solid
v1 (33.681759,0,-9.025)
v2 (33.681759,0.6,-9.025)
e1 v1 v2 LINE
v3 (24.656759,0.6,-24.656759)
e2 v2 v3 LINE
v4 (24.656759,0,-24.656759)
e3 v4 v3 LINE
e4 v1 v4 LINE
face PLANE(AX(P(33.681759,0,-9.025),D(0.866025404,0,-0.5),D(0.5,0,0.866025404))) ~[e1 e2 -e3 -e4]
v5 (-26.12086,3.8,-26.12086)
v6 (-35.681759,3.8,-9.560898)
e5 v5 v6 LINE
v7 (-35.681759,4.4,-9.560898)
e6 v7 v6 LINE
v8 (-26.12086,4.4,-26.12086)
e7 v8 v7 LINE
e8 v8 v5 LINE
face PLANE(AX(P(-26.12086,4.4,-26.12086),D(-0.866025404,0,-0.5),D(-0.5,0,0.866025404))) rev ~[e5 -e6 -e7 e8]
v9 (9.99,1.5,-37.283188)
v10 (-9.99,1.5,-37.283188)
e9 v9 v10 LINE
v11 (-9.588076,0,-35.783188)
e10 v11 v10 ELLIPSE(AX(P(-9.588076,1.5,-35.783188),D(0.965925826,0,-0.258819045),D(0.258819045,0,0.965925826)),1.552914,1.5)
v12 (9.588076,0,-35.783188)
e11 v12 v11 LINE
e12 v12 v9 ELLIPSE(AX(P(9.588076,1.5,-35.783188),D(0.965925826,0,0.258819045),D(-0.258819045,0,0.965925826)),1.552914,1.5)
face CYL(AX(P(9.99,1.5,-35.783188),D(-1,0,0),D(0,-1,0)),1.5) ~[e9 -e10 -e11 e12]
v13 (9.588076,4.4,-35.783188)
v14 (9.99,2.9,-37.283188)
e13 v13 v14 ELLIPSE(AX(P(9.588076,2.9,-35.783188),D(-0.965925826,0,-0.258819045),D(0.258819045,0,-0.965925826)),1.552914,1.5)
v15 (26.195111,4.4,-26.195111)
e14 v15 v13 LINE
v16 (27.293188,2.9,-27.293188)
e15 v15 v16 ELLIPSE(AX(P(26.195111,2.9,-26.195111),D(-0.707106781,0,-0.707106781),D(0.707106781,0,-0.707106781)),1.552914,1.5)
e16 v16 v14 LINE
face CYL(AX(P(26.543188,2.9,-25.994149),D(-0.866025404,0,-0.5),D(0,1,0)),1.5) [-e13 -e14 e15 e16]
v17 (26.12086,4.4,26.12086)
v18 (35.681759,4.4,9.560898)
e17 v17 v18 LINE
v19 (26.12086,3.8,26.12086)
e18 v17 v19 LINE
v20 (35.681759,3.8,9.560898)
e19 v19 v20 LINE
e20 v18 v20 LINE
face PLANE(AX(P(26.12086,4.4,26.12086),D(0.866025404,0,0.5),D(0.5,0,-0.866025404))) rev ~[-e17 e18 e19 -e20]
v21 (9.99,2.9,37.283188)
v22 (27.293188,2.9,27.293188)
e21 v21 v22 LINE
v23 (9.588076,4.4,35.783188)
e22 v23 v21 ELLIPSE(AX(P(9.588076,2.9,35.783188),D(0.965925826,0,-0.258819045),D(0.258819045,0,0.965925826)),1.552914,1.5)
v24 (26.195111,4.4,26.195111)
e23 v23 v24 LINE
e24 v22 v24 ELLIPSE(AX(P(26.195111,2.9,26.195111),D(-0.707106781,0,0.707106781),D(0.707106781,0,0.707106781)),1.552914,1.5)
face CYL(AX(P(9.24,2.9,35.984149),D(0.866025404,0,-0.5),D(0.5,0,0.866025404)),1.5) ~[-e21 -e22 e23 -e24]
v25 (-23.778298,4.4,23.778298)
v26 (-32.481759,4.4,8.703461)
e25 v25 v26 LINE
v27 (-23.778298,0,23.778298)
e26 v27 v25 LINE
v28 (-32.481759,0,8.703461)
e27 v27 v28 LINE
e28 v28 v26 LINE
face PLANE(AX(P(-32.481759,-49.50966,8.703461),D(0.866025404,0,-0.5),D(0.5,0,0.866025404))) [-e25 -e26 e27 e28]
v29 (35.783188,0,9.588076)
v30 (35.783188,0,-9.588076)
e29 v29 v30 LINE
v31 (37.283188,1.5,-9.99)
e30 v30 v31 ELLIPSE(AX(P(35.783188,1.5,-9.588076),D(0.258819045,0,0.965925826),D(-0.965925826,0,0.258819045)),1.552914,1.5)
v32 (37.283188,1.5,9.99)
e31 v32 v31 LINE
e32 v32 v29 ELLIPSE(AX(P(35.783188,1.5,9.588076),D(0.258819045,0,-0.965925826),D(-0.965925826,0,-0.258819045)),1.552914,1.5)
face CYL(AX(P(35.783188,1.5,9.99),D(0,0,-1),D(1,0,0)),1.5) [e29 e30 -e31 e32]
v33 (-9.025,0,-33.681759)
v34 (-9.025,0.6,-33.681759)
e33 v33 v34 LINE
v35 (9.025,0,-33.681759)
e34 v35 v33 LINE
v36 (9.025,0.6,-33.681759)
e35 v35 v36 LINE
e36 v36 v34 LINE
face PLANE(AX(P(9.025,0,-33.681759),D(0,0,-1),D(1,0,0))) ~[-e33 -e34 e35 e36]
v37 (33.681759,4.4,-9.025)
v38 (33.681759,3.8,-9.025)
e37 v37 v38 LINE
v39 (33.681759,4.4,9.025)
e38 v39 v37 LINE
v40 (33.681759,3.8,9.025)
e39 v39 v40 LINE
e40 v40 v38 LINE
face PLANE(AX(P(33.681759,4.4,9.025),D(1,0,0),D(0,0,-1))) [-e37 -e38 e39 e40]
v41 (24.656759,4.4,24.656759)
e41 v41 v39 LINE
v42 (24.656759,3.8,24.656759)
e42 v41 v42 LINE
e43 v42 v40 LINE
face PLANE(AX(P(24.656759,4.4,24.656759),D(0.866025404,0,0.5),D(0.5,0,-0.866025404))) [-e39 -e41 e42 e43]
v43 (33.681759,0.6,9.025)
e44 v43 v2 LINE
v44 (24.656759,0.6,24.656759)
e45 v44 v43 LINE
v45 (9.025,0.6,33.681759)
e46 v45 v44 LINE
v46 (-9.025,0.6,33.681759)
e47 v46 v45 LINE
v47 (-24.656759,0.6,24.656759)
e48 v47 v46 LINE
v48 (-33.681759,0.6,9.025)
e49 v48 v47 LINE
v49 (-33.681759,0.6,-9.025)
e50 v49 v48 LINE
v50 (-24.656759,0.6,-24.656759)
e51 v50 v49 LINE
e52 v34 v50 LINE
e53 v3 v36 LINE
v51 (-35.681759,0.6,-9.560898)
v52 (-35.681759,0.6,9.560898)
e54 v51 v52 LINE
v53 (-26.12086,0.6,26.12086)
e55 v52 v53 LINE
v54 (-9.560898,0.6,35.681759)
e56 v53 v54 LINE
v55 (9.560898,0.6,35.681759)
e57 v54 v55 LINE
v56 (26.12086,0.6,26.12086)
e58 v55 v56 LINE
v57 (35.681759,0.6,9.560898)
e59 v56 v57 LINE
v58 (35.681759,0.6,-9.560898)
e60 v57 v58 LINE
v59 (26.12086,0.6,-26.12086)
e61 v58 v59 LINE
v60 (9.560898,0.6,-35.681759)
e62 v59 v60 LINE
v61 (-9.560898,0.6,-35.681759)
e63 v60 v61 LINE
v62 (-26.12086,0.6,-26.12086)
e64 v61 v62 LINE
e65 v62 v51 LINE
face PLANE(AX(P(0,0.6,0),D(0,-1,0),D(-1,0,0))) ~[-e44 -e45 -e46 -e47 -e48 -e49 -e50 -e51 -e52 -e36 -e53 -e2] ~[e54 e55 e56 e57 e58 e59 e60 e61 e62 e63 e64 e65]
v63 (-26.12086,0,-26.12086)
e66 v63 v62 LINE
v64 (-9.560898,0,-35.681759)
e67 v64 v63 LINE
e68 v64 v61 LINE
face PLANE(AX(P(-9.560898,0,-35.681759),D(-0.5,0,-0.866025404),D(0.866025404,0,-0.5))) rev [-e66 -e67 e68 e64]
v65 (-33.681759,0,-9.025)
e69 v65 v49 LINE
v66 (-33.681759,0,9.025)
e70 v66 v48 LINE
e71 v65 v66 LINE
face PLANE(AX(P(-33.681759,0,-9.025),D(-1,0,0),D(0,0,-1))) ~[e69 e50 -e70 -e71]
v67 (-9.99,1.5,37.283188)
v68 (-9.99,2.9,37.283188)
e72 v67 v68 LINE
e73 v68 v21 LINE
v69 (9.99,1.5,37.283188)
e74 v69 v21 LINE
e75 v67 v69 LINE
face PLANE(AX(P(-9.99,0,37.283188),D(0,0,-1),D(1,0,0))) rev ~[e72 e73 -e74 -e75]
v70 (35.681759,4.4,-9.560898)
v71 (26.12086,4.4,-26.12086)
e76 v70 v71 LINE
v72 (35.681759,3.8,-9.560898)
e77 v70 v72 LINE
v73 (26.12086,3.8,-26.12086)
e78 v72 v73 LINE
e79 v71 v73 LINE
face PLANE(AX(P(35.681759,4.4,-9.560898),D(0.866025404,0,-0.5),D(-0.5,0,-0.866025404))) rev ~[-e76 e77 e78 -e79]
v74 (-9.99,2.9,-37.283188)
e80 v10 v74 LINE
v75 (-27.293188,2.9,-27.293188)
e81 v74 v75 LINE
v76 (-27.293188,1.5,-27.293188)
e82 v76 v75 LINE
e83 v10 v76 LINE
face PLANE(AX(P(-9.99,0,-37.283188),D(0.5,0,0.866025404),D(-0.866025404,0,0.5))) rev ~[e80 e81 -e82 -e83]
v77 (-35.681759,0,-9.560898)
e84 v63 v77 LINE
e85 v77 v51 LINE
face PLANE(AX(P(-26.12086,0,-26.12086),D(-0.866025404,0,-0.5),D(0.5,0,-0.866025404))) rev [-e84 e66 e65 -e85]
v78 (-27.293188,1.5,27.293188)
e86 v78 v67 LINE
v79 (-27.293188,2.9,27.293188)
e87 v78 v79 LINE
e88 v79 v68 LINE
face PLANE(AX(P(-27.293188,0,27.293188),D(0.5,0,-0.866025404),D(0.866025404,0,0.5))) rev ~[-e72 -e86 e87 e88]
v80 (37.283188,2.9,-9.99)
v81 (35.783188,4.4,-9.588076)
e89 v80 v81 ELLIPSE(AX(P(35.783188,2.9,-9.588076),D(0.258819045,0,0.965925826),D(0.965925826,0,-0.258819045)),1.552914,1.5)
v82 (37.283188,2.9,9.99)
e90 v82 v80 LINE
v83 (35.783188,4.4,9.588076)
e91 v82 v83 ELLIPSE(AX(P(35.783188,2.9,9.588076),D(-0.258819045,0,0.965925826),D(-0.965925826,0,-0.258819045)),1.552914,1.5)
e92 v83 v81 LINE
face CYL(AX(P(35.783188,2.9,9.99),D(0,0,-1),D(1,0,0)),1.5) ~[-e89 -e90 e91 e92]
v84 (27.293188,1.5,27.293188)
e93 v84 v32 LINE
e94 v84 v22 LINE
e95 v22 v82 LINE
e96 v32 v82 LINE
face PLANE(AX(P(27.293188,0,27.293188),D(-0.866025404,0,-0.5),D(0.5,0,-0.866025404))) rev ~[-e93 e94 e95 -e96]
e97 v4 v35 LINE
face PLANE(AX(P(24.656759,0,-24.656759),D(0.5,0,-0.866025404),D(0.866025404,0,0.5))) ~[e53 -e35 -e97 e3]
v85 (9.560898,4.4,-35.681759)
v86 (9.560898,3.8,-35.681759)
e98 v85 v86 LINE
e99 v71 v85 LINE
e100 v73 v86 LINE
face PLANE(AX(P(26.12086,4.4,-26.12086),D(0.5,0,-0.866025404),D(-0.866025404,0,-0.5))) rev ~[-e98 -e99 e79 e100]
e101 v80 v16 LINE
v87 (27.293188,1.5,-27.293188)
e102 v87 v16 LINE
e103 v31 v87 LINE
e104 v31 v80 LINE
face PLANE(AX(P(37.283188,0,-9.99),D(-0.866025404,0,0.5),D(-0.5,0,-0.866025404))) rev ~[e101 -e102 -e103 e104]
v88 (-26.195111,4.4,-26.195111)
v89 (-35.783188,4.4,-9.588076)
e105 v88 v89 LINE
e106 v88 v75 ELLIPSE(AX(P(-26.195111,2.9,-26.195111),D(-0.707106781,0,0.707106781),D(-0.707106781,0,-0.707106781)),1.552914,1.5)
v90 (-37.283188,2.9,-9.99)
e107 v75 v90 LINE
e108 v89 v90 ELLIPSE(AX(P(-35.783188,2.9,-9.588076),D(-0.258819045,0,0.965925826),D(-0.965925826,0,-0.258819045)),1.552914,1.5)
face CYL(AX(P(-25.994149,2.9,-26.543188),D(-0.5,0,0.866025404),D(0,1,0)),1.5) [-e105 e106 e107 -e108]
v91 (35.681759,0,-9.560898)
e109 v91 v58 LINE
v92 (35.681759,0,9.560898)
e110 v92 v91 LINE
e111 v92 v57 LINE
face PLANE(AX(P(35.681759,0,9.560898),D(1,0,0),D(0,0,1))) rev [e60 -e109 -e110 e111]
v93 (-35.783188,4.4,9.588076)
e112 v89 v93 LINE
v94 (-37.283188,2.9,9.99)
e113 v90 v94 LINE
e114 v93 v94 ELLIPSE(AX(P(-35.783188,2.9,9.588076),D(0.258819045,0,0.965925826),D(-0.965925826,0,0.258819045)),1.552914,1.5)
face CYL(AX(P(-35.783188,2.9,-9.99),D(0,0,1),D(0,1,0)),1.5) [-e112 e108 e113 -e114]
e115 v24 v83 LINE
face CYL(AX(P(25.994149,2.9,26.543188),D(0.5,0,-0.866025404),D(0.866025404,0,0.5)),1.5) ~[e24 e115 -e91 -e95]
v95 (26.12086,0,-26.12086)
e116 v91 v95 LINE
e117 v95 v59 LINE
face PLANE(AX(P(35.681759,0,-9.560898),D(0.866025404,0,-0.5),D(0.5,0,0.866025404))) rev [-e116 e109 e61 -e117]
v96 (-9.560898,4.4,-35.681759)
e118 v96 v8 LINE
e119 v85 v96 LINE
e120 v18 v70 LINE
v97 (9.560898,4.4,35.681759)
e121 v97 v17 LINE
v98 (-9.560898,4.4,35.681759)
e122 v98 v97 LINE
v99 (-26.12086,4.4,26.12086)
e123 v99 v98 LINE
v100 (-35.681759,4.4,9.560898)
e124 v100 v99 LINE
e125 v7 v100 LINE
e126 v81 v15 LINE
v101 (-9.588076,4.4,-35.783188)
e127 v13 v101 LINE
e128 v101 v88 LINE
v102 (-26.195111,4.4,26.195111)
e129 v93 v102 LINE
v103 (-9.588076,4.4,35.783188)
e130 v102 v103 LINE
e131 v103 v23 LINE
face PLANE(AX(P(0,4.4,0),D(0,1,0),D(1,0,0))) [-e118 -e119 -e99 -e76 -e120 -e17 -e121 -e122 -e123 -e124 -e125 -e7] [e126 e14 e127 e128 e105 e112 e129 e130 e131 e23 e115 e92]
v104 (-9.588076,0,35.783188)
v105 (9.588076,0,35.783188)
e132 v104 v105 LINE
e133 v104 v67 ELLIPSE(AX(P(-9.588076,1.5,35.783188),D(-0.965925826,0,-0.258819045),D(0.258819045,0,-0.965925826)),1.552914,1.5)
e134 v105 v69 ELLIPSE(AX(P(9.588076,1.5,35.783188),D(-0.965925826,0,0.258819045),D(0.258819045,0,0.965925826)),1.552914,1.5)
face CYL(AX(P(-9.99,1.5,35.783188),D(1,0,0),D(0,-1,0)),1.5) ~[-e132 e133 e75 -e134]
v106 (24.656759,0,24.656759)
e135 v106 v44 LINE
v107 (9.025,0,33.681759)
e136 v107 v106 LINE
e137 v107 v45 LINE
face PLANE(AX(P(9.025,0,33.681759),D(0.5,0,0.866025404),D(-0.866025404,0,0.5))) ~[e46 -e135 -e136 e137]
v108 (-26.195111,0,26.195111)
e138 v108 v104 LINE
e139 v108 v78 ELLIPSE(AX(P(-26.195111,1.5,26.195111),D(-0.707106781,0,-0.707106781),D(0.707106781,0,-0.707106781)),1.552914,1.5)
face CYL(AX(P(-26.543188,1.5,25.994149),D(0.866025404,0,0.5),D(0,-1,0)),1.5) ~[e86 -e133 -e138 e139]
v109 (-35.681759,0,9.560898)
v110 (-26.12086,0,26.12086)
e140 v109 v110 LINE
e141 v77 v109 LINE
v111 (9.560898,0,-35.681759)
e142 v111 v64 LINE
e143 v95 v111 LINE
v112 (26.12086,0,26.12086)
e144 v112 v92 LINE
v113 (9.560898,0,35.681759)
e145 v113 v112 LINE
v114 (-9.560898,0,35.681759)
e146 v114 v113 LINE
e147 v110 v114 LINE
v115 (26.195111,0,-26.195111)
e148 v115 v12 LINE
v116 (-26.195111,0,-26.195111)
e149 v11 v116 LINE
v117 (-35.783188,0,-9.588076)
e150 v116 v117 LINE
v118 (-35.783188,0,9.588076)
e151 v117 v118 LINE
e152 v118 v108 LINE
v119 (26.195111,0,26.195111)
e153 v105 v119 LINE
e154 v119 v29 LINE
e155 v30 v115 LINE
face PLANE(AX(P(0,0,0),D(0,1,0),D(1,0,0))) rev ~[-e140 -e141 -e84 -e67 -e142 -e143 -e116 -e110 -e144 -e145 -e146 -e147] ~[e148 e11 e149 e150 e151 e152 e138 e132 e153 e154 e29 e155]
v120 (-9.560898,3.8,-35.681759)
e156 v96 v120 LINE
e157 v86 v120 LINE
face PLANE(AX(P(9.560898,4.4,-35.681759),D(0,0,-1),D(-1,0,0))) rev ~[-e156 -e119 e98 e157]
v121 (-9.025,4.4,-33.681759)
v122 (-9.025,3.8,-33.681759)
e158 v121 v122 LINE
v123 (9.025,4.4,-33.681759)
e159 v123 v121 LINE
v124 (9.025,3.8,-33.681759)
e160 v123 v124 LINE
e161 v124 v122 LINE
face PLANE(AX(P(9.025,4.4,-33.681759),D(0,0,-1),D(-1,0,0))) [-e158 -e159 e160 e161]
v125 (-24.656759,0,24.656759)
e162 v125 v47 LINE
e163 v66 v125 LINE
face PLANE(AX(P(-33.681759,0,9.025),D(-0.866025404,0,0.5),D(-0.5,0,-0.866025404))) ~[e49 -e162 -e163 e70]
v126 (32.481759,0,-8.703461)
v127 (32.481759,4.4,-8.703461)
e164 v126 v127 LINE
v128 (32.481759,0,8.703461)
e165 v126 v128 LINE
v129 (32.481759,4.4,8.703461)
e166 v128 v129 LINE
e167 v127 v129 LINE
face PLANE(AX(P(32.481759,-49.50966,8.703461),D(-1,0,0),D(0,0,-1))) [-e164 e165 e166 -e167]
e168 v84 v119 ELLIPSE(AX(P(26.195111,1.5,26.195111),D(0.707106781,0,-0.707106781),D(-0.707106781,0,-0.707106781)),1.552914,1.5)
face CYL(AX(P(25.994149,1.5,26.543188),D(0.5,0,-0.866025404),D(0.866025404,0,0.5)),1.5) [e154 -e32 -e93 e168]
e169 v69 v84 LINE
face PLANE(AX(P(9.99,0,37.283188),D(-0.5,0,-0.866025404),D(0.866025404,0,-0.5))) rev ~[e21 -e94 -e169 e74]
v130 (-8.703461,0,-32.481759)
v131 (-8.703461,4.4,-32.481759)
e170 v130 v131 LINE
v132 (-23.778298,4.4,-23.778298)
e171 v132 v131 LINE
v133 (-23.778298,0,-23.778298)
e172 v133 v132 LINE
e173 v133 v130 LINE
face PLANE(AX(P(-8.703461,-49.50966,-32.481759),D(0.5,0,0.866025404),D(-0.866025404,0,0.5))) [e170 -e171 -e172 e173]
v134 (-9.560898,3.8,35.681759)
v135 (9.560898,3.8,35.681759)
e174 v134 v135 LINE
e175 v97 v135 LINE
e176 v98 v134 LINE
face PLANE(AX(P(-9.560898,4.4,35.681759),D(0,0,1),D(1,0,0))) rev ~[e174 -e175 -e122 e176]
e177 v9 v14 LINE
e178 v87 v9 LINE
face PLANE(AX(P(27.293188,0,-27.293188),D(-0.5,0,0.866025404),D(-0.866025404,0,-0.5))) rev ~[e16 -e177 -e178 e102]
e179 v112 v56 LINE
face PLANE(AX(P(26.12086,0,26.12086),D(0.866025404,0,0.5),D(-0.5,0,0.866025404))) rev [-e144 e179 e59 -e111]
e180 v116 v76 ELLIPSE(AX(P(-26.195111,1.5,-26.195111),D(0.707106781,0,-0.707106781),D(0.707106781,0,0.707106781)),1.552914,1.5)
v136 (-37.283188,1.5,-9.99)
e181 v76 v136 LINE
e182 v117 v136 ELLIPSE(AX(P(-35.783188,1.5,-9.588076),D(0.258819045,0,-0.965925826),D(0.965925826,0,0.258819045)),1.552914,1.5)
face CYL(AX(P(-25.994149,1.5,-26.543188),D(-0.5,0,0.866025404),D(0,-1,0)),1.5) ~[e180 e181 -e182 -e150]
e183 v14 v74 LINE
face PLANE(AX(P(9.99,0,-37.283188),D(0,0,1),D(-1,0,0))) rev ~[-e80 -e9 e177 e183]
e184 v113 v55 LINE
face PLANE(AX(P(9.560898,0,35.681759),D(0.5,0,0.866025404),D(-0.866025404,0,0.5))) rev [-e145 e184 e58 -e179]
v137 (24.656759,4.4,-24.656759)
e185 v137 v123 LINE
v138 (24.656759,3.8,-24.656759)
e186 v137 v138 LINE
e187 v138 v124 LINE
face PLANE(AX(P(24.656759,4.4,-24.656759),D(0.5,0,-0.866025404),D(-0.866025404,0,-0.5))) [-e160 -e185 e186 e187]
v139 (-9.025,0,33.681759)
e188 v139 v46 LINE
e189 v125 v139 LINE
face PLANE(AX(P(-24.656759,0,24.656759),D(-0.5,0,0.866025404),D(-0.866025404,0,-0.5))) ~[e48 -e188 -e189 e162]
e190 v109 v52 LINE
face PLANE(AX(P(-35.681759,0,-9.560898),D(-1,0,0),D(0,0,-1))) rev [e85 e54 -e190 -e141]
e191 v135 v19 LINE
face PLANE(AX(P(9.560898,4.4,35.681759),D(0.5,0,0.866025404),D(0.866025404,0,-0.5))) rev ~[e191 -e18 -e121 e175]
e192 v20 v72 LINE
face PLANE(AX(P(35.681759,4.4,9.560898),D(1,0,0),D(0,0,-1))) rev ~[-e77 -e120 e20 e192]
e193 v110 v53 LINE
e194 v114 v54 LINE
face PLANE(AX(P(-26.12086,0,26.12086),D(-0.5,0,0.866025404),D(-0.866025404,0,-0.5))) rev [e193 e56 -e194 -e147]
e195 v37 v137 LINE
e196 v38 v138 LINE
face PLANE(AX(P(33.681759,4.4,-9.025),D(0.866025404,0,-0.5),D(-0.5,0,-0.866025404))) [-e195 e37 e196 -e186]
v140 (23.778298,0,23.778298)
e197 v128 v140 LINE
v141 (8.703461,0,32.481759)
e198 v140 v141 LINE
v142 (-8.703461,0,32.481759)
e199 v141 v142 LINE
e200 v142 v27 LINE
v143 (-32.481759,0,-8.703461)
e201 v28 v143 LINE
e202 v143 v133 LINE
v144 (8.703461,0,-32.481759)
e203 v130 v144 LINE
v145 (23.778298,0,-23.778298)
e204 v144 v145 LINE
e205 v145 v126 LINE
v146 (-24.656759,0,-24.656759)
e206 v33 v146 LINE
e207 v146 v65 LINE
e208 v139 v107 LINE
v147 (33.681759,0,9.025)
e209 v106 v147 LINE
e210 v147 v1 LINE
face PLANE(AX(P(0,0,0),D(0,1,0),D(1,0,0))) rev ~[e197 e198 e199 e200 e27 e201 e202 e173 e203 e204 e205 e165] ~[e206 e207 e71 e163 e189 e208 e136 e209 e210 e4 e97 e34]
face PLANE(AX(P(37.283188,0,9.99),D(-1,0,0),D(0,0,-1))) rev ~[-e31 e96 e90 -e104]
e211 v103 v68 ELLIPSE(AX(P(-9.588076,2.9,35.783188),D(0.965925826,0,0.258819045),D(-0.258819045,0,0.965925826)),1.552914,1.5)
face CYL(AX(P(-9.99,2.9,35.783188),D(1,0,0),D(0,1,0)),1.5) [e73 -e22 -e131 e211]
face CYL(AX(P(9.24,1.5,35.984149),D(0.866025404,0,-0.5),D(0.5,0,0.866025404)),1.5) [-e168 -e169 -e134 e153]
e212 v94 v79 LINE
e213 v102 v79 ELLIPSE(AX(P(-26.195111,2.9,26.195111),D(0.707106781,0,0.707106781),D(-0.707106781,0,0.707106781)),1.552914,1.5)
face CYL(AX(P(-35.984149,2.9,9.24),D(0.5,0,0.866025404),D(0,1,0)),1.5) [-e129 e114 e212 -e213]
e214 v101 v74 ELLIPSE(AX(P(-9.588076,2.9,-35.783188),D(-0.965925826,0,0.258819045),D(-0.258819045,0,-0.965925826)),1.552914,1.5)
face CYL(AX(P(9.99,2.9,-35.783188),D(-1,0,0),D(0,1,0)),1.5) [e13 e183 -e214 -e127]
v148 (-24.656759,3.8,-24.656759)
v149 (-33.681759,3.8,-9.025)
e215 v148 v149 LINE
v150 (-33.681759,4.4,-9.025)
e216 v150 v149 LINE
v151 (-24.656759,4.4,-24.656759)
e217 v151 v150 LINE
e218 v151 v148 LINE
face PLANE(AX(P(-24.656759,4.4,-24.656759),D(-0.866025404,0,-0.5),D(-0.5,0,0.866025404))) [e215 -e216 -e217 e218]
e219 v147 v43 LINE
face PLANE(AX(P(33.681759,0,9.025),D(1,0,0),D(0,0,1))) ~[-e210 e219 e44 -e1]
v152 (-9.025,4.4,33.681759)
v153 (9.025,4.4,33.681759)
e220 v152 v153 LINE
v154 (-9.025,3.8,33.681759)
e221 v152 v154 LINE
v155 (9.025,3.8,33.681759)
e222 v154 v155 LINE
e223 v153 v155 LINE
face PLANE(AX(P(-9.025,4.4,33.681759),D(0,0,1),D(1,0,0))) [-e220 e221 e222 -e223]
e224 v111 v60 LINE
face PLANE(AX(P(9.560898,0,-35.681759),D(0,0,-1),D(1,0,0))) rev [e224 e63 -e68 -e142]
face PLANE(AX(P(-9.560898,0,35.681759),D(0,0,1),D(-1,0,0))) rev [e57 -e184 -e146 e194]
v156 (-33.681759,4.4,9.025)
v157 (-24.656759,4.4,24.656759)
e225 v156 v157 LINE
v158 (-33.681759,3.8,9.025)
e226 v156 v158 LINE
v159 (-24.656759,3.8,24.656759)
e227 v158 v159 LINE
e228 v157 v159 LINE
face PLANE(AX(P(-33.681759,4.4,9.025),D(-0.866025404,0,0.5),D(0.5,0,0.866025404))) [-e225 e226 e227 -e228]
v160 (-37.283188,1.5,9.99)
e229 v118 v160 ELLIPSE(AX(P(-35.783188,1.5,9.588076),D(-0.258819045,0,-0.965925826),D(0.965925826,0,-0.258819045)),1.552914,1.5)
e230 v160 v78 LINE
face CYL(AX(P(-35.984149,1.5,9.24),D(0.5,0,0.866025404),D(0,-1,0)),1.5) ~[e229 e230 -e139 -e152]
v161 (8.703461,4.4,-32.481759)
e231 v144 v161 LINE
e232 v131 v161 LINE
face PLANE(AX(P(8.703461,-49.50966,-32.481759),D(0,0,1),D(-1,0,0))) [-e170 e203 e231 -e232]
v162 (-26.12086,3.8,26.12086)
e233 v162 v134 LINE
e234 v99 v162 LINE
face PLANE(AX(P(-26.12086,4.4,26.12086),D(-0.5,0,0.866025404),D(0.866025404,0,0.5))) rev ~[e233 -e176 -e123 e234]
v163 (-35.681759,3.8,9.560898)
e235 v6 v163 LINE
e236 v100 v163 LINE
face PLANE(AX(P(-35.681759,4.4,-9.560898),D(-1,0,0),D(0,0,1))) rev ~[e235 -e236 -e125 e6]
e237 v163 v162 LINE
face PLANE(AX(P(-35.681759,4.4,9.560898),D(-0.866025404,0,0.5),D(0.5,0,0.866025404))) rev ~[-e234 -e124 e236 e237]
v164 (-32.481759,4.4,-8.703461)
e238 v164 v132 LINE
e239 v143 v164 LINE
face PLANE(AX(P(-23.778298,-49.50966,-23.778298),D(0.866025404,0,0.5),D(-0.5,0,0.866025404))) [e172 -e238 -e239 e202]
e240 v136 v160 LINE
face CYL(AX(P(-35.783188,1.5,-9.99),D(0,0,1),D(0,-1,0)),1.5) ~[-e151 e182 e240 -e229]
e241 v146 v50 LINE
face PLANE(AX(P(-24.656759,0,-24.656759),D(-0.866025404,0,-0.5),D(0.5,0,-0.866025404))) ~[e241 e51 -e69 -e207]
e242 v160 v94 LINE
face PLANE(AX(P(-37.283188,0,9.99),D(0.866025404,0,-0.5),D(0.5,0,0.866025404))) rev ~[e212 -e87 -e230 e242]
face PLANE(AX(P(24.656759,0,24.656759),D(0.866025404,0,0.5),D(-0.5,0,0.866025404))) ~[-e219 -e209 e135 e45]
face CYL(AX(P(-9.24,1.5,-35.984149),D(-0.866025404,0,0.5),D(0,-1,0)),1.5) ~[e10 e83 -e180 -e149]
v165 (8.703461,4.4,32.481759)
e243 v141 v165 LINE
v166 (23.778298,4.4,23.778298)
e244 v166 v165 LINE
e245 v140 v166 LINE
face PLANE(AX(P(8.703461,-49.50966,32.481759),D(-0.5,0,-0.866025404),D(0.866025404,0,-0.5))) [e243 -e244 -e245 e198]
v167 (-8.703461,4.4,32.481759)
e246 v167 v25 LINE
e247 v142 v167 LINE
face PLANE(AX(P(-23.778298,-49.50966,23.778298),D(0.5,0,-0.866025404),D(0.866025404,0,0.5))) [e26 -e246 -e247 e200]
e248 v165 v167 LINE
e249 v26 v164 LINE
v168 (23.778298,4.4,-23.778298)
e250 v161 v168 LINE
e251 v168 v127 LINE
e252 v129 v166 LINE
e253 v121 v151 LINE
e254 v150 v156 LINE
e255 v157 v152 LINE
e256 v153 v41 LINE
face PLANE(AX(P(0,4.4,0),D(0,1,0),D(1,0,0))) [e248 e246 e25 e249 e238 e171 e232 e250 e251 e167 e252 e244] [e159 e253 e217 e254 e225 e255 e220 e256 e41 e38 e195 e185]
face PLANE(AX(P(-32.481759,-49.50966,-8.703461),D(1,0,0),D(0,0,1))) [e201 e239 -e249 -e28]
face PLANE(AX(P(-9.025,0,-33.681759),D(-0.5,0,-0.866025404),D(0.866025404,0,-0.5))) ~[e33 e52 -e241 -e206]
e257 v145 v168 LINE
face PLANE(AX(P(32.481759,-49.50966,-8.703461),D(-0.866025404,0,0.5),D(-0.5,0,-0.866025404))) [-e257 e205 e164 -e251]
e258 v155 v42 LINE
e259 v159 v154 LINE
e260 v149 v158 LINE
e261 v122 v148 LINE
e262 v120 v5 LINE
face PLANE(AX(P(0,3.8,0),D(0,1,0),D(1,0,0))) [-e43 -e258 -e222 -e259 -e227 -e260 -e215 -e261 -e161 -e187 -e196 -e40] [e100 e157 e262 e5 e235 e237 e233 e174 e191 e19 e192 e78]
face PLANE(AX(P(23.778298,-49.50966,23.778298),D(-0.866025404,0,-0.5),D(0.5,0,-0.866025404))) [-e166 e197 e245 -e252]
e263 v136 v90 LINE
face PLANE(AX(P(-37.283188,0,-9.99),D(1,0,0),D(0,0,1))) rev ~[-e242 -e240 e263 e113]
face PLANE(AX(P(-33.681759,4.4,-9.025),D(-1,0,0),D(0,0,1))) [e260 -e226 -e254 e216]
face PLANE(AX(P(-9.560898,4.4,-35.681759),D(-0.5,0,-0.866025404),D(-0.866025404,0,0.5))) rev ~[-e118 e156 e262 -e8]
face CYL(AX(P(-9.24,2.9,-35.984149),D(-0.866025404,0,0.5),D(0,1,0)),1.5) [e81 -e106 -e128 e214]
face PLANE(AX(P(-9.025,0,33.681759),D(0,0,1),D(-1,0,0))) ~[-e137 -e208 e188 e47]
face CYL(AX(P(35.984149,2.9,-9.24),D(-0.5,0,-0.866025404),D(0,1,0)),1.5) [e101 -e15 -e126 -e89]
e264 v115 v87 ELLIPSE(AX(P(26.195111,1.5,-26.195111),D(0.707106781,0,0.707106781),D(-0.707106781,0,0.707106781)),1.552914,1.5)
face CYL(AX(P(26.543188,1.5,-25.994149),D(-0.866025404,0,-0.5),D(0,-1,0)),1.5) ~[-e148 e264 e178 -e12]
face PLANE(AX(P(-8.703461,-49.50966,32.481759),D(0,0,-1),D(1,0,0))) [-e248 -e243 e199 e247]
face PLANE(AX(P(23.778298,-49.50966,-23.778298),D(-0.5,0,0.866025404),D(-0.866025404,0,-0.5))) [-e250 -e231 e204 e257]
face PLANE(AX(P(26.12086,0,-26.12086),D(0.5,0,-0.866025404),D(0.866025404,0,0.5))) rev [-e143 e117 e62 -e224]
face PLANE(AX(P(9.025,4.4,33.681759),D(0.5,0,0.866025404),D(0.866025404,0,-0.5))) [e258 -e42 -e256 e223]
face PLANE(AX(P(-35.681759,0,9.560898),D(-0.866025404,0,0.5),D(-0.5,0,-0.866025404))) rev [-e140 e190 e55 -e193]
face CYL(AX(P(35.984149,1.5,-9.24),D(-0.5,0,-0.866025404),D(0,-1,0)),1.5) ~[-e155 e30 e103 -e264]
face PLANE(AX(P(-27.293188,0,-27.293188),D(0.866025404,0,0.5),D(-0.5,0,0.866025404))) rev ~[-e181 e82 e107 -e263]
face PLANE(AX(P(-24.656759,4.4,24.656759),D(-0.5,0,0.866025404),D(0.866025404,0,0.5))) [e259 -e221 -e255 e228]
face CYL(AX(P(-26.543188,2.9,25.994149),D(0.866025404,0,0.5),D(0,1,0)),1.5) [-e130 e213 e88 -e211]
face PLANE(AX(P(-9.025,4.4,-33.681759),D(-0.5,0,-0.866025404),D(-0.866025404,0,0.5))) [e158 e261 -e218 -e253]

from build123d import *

# Parameters (mm, degrees)
EXTRUDE_1_DEPTH          = 4.4
CUT_EXTRUDE_1_DEPTH      = 0.6
FILLET_1_R               = 1.5
CUT_EXTRUDE_2_DEPTH      = 53.909660275
CUT_EXTRUDE_2_DEPTH_BACK = 53.909660275


with BuildPart() as part:
    # 스케치1 → 보스-돌출1 (new body)
    with BuildSketch(Plane(origin=(0, 0, 0), x_dir=(1, 0, 0), z_dir=(0, 1, 0))):
        Polygon((27.293187568, -27.293187568), (37.283187568, -9.99), (37.283187568, 9.99), (27.293187568, 27.293187568), (9.99, 37.283187568), (-9.99, 37.283187568), (-27.293187568, 27.293187568), (-37.283187568, 9.99), (-37.283187568, -9.99), (-27.293187568, -27.293187568), (-9.99, -37.283187568), (9.99, -37.283187568), align=None)
    extrude(amount=EXTRUDE_1_DEPTH)

    # 스케치2 → 컷-돌출1 (cut)
    with BuildSketch(Plane(origin=(0, 4.4, 0), x_dir=(1, 0, 0), z_dir=(0, 1, 0))):
        Polygon((-26.120860153, 26.120860153), (-35.681758538, 9.560898385), (-35.681758538, -9.560898385), (-26.120860153, -26.120860153), (-9.560898385, -35.681758538), (9.560898385, -35.681758538), (26.120860153, -26.120860153), (35.681758538, -9.560898385), (35.681758538, 9.560898385), (26.120860153, 26.120860153), (9.560898385, 35.681758538), (-9.560898385, 35.681758538), align=None)
        Polygon((24.656758538, -24.656758538), (33.681758538, -9.025), (33.681758538, 9.025), (24.656758538, 24.656758538), (9.025, 33.681758538), (-9.025, 33.681758538), (-24.656758538, 24.656758538), (-33.681758538, 9.025), (-33.681758538, -9.025), (-24.656758538, -24.656758538), (-9.025, -33.681758538), (9.025, -33.681758538), align=None, mode=Mode.SUBTRACT)
    cut_extrude_1 = extrude(amount=-CUT_EXTRUDE_1_DEPTH, mode=Mode.SUBTRACT)

    # 필렛1
    fillet_1_edges = [part.edges().sort_by_distance(p)[0] for p in [
        (0, 0, 37.283187568),
        (-18.641593784, 0, 32.288187568),
        (37.283187568, 4.4, 0),
        (-32.288187568, 0, 18.641593784),
        (-37.283187568, 0, 0),
        (-32.288187568, 0, -18.641593784),
        (-18.641593784, 0, -32.288187568),
        (0, 0, -37.283187568),
        (18.641593784, 0, -32.288187568),
        (32.288187568, 0, -18.641593784),
        (37.283187568, 0, 0),
        (32.288187568, 0, 18.641593784),
        (18.641593784, 0, 32.288187568),
        (32.288187568, 4.4, -18.641593784),
        (18.641593784, 4.4, -32.288187568),
        (0, 4.4, -37.283187568),
        (-18.641593784, 4.4, -32.288187568),
        (-32.288187568, 4.4, -18.641593784),
        (-37.283187568, 4.4, 0),
        (-32.288187568, 4.4, 18.641593784),
        (-18.641593784, 4.4, 32.288187568),
        (0, 4.4, 37.283187568),
        (18.641593784, 4.4, 32.288187568),
        (32.288187568, 4.4, 18.641593784),
    ]]
    fillet(fillet_1_edges, radius=FILLET_1_R)

    # 스케치3 → 컷-돌출2 (cut, two sides: drawn at the far end of the back side and taken through both)
    with BuildSketch(Plane(origin=(0, 4.4, 0), x_dir=(1, 0, 0), z_dir=(0, 1, 0)).offset(-CUT_EXTRUDE_2_DEPTH_BACK)):
        Polygon((23.778297569, 23.778297569), (8.703460969, 32.481758538), (-8.703460969, 32.481758538), (-23.778297569, 23.778297569), (-32.481758538, 8.703460969), (-32.481758538, -8.703460969), (-23.778297569, -23.778297569), (-8.703460969, -32.481758538), (8.703460969, -32.481758538), (23.778297569, -23.778297569), (32.481758538, -8.703460969), (32.481758538, 8.703460969), align=None)
    extrude(amount=CUT_EXTRUDE_2_DEPTH + CUT_EXTRUDE_2_DEPTH_BACK, mode=Mode.SUBTRACT)

    # 대칭 복사1: 컷-돌출1 across plane
    add(cut_extrude_1.mirror(Plane.ZX.offset(2.2)), mode=Mode.SUBTRACT)


solid = part.part
